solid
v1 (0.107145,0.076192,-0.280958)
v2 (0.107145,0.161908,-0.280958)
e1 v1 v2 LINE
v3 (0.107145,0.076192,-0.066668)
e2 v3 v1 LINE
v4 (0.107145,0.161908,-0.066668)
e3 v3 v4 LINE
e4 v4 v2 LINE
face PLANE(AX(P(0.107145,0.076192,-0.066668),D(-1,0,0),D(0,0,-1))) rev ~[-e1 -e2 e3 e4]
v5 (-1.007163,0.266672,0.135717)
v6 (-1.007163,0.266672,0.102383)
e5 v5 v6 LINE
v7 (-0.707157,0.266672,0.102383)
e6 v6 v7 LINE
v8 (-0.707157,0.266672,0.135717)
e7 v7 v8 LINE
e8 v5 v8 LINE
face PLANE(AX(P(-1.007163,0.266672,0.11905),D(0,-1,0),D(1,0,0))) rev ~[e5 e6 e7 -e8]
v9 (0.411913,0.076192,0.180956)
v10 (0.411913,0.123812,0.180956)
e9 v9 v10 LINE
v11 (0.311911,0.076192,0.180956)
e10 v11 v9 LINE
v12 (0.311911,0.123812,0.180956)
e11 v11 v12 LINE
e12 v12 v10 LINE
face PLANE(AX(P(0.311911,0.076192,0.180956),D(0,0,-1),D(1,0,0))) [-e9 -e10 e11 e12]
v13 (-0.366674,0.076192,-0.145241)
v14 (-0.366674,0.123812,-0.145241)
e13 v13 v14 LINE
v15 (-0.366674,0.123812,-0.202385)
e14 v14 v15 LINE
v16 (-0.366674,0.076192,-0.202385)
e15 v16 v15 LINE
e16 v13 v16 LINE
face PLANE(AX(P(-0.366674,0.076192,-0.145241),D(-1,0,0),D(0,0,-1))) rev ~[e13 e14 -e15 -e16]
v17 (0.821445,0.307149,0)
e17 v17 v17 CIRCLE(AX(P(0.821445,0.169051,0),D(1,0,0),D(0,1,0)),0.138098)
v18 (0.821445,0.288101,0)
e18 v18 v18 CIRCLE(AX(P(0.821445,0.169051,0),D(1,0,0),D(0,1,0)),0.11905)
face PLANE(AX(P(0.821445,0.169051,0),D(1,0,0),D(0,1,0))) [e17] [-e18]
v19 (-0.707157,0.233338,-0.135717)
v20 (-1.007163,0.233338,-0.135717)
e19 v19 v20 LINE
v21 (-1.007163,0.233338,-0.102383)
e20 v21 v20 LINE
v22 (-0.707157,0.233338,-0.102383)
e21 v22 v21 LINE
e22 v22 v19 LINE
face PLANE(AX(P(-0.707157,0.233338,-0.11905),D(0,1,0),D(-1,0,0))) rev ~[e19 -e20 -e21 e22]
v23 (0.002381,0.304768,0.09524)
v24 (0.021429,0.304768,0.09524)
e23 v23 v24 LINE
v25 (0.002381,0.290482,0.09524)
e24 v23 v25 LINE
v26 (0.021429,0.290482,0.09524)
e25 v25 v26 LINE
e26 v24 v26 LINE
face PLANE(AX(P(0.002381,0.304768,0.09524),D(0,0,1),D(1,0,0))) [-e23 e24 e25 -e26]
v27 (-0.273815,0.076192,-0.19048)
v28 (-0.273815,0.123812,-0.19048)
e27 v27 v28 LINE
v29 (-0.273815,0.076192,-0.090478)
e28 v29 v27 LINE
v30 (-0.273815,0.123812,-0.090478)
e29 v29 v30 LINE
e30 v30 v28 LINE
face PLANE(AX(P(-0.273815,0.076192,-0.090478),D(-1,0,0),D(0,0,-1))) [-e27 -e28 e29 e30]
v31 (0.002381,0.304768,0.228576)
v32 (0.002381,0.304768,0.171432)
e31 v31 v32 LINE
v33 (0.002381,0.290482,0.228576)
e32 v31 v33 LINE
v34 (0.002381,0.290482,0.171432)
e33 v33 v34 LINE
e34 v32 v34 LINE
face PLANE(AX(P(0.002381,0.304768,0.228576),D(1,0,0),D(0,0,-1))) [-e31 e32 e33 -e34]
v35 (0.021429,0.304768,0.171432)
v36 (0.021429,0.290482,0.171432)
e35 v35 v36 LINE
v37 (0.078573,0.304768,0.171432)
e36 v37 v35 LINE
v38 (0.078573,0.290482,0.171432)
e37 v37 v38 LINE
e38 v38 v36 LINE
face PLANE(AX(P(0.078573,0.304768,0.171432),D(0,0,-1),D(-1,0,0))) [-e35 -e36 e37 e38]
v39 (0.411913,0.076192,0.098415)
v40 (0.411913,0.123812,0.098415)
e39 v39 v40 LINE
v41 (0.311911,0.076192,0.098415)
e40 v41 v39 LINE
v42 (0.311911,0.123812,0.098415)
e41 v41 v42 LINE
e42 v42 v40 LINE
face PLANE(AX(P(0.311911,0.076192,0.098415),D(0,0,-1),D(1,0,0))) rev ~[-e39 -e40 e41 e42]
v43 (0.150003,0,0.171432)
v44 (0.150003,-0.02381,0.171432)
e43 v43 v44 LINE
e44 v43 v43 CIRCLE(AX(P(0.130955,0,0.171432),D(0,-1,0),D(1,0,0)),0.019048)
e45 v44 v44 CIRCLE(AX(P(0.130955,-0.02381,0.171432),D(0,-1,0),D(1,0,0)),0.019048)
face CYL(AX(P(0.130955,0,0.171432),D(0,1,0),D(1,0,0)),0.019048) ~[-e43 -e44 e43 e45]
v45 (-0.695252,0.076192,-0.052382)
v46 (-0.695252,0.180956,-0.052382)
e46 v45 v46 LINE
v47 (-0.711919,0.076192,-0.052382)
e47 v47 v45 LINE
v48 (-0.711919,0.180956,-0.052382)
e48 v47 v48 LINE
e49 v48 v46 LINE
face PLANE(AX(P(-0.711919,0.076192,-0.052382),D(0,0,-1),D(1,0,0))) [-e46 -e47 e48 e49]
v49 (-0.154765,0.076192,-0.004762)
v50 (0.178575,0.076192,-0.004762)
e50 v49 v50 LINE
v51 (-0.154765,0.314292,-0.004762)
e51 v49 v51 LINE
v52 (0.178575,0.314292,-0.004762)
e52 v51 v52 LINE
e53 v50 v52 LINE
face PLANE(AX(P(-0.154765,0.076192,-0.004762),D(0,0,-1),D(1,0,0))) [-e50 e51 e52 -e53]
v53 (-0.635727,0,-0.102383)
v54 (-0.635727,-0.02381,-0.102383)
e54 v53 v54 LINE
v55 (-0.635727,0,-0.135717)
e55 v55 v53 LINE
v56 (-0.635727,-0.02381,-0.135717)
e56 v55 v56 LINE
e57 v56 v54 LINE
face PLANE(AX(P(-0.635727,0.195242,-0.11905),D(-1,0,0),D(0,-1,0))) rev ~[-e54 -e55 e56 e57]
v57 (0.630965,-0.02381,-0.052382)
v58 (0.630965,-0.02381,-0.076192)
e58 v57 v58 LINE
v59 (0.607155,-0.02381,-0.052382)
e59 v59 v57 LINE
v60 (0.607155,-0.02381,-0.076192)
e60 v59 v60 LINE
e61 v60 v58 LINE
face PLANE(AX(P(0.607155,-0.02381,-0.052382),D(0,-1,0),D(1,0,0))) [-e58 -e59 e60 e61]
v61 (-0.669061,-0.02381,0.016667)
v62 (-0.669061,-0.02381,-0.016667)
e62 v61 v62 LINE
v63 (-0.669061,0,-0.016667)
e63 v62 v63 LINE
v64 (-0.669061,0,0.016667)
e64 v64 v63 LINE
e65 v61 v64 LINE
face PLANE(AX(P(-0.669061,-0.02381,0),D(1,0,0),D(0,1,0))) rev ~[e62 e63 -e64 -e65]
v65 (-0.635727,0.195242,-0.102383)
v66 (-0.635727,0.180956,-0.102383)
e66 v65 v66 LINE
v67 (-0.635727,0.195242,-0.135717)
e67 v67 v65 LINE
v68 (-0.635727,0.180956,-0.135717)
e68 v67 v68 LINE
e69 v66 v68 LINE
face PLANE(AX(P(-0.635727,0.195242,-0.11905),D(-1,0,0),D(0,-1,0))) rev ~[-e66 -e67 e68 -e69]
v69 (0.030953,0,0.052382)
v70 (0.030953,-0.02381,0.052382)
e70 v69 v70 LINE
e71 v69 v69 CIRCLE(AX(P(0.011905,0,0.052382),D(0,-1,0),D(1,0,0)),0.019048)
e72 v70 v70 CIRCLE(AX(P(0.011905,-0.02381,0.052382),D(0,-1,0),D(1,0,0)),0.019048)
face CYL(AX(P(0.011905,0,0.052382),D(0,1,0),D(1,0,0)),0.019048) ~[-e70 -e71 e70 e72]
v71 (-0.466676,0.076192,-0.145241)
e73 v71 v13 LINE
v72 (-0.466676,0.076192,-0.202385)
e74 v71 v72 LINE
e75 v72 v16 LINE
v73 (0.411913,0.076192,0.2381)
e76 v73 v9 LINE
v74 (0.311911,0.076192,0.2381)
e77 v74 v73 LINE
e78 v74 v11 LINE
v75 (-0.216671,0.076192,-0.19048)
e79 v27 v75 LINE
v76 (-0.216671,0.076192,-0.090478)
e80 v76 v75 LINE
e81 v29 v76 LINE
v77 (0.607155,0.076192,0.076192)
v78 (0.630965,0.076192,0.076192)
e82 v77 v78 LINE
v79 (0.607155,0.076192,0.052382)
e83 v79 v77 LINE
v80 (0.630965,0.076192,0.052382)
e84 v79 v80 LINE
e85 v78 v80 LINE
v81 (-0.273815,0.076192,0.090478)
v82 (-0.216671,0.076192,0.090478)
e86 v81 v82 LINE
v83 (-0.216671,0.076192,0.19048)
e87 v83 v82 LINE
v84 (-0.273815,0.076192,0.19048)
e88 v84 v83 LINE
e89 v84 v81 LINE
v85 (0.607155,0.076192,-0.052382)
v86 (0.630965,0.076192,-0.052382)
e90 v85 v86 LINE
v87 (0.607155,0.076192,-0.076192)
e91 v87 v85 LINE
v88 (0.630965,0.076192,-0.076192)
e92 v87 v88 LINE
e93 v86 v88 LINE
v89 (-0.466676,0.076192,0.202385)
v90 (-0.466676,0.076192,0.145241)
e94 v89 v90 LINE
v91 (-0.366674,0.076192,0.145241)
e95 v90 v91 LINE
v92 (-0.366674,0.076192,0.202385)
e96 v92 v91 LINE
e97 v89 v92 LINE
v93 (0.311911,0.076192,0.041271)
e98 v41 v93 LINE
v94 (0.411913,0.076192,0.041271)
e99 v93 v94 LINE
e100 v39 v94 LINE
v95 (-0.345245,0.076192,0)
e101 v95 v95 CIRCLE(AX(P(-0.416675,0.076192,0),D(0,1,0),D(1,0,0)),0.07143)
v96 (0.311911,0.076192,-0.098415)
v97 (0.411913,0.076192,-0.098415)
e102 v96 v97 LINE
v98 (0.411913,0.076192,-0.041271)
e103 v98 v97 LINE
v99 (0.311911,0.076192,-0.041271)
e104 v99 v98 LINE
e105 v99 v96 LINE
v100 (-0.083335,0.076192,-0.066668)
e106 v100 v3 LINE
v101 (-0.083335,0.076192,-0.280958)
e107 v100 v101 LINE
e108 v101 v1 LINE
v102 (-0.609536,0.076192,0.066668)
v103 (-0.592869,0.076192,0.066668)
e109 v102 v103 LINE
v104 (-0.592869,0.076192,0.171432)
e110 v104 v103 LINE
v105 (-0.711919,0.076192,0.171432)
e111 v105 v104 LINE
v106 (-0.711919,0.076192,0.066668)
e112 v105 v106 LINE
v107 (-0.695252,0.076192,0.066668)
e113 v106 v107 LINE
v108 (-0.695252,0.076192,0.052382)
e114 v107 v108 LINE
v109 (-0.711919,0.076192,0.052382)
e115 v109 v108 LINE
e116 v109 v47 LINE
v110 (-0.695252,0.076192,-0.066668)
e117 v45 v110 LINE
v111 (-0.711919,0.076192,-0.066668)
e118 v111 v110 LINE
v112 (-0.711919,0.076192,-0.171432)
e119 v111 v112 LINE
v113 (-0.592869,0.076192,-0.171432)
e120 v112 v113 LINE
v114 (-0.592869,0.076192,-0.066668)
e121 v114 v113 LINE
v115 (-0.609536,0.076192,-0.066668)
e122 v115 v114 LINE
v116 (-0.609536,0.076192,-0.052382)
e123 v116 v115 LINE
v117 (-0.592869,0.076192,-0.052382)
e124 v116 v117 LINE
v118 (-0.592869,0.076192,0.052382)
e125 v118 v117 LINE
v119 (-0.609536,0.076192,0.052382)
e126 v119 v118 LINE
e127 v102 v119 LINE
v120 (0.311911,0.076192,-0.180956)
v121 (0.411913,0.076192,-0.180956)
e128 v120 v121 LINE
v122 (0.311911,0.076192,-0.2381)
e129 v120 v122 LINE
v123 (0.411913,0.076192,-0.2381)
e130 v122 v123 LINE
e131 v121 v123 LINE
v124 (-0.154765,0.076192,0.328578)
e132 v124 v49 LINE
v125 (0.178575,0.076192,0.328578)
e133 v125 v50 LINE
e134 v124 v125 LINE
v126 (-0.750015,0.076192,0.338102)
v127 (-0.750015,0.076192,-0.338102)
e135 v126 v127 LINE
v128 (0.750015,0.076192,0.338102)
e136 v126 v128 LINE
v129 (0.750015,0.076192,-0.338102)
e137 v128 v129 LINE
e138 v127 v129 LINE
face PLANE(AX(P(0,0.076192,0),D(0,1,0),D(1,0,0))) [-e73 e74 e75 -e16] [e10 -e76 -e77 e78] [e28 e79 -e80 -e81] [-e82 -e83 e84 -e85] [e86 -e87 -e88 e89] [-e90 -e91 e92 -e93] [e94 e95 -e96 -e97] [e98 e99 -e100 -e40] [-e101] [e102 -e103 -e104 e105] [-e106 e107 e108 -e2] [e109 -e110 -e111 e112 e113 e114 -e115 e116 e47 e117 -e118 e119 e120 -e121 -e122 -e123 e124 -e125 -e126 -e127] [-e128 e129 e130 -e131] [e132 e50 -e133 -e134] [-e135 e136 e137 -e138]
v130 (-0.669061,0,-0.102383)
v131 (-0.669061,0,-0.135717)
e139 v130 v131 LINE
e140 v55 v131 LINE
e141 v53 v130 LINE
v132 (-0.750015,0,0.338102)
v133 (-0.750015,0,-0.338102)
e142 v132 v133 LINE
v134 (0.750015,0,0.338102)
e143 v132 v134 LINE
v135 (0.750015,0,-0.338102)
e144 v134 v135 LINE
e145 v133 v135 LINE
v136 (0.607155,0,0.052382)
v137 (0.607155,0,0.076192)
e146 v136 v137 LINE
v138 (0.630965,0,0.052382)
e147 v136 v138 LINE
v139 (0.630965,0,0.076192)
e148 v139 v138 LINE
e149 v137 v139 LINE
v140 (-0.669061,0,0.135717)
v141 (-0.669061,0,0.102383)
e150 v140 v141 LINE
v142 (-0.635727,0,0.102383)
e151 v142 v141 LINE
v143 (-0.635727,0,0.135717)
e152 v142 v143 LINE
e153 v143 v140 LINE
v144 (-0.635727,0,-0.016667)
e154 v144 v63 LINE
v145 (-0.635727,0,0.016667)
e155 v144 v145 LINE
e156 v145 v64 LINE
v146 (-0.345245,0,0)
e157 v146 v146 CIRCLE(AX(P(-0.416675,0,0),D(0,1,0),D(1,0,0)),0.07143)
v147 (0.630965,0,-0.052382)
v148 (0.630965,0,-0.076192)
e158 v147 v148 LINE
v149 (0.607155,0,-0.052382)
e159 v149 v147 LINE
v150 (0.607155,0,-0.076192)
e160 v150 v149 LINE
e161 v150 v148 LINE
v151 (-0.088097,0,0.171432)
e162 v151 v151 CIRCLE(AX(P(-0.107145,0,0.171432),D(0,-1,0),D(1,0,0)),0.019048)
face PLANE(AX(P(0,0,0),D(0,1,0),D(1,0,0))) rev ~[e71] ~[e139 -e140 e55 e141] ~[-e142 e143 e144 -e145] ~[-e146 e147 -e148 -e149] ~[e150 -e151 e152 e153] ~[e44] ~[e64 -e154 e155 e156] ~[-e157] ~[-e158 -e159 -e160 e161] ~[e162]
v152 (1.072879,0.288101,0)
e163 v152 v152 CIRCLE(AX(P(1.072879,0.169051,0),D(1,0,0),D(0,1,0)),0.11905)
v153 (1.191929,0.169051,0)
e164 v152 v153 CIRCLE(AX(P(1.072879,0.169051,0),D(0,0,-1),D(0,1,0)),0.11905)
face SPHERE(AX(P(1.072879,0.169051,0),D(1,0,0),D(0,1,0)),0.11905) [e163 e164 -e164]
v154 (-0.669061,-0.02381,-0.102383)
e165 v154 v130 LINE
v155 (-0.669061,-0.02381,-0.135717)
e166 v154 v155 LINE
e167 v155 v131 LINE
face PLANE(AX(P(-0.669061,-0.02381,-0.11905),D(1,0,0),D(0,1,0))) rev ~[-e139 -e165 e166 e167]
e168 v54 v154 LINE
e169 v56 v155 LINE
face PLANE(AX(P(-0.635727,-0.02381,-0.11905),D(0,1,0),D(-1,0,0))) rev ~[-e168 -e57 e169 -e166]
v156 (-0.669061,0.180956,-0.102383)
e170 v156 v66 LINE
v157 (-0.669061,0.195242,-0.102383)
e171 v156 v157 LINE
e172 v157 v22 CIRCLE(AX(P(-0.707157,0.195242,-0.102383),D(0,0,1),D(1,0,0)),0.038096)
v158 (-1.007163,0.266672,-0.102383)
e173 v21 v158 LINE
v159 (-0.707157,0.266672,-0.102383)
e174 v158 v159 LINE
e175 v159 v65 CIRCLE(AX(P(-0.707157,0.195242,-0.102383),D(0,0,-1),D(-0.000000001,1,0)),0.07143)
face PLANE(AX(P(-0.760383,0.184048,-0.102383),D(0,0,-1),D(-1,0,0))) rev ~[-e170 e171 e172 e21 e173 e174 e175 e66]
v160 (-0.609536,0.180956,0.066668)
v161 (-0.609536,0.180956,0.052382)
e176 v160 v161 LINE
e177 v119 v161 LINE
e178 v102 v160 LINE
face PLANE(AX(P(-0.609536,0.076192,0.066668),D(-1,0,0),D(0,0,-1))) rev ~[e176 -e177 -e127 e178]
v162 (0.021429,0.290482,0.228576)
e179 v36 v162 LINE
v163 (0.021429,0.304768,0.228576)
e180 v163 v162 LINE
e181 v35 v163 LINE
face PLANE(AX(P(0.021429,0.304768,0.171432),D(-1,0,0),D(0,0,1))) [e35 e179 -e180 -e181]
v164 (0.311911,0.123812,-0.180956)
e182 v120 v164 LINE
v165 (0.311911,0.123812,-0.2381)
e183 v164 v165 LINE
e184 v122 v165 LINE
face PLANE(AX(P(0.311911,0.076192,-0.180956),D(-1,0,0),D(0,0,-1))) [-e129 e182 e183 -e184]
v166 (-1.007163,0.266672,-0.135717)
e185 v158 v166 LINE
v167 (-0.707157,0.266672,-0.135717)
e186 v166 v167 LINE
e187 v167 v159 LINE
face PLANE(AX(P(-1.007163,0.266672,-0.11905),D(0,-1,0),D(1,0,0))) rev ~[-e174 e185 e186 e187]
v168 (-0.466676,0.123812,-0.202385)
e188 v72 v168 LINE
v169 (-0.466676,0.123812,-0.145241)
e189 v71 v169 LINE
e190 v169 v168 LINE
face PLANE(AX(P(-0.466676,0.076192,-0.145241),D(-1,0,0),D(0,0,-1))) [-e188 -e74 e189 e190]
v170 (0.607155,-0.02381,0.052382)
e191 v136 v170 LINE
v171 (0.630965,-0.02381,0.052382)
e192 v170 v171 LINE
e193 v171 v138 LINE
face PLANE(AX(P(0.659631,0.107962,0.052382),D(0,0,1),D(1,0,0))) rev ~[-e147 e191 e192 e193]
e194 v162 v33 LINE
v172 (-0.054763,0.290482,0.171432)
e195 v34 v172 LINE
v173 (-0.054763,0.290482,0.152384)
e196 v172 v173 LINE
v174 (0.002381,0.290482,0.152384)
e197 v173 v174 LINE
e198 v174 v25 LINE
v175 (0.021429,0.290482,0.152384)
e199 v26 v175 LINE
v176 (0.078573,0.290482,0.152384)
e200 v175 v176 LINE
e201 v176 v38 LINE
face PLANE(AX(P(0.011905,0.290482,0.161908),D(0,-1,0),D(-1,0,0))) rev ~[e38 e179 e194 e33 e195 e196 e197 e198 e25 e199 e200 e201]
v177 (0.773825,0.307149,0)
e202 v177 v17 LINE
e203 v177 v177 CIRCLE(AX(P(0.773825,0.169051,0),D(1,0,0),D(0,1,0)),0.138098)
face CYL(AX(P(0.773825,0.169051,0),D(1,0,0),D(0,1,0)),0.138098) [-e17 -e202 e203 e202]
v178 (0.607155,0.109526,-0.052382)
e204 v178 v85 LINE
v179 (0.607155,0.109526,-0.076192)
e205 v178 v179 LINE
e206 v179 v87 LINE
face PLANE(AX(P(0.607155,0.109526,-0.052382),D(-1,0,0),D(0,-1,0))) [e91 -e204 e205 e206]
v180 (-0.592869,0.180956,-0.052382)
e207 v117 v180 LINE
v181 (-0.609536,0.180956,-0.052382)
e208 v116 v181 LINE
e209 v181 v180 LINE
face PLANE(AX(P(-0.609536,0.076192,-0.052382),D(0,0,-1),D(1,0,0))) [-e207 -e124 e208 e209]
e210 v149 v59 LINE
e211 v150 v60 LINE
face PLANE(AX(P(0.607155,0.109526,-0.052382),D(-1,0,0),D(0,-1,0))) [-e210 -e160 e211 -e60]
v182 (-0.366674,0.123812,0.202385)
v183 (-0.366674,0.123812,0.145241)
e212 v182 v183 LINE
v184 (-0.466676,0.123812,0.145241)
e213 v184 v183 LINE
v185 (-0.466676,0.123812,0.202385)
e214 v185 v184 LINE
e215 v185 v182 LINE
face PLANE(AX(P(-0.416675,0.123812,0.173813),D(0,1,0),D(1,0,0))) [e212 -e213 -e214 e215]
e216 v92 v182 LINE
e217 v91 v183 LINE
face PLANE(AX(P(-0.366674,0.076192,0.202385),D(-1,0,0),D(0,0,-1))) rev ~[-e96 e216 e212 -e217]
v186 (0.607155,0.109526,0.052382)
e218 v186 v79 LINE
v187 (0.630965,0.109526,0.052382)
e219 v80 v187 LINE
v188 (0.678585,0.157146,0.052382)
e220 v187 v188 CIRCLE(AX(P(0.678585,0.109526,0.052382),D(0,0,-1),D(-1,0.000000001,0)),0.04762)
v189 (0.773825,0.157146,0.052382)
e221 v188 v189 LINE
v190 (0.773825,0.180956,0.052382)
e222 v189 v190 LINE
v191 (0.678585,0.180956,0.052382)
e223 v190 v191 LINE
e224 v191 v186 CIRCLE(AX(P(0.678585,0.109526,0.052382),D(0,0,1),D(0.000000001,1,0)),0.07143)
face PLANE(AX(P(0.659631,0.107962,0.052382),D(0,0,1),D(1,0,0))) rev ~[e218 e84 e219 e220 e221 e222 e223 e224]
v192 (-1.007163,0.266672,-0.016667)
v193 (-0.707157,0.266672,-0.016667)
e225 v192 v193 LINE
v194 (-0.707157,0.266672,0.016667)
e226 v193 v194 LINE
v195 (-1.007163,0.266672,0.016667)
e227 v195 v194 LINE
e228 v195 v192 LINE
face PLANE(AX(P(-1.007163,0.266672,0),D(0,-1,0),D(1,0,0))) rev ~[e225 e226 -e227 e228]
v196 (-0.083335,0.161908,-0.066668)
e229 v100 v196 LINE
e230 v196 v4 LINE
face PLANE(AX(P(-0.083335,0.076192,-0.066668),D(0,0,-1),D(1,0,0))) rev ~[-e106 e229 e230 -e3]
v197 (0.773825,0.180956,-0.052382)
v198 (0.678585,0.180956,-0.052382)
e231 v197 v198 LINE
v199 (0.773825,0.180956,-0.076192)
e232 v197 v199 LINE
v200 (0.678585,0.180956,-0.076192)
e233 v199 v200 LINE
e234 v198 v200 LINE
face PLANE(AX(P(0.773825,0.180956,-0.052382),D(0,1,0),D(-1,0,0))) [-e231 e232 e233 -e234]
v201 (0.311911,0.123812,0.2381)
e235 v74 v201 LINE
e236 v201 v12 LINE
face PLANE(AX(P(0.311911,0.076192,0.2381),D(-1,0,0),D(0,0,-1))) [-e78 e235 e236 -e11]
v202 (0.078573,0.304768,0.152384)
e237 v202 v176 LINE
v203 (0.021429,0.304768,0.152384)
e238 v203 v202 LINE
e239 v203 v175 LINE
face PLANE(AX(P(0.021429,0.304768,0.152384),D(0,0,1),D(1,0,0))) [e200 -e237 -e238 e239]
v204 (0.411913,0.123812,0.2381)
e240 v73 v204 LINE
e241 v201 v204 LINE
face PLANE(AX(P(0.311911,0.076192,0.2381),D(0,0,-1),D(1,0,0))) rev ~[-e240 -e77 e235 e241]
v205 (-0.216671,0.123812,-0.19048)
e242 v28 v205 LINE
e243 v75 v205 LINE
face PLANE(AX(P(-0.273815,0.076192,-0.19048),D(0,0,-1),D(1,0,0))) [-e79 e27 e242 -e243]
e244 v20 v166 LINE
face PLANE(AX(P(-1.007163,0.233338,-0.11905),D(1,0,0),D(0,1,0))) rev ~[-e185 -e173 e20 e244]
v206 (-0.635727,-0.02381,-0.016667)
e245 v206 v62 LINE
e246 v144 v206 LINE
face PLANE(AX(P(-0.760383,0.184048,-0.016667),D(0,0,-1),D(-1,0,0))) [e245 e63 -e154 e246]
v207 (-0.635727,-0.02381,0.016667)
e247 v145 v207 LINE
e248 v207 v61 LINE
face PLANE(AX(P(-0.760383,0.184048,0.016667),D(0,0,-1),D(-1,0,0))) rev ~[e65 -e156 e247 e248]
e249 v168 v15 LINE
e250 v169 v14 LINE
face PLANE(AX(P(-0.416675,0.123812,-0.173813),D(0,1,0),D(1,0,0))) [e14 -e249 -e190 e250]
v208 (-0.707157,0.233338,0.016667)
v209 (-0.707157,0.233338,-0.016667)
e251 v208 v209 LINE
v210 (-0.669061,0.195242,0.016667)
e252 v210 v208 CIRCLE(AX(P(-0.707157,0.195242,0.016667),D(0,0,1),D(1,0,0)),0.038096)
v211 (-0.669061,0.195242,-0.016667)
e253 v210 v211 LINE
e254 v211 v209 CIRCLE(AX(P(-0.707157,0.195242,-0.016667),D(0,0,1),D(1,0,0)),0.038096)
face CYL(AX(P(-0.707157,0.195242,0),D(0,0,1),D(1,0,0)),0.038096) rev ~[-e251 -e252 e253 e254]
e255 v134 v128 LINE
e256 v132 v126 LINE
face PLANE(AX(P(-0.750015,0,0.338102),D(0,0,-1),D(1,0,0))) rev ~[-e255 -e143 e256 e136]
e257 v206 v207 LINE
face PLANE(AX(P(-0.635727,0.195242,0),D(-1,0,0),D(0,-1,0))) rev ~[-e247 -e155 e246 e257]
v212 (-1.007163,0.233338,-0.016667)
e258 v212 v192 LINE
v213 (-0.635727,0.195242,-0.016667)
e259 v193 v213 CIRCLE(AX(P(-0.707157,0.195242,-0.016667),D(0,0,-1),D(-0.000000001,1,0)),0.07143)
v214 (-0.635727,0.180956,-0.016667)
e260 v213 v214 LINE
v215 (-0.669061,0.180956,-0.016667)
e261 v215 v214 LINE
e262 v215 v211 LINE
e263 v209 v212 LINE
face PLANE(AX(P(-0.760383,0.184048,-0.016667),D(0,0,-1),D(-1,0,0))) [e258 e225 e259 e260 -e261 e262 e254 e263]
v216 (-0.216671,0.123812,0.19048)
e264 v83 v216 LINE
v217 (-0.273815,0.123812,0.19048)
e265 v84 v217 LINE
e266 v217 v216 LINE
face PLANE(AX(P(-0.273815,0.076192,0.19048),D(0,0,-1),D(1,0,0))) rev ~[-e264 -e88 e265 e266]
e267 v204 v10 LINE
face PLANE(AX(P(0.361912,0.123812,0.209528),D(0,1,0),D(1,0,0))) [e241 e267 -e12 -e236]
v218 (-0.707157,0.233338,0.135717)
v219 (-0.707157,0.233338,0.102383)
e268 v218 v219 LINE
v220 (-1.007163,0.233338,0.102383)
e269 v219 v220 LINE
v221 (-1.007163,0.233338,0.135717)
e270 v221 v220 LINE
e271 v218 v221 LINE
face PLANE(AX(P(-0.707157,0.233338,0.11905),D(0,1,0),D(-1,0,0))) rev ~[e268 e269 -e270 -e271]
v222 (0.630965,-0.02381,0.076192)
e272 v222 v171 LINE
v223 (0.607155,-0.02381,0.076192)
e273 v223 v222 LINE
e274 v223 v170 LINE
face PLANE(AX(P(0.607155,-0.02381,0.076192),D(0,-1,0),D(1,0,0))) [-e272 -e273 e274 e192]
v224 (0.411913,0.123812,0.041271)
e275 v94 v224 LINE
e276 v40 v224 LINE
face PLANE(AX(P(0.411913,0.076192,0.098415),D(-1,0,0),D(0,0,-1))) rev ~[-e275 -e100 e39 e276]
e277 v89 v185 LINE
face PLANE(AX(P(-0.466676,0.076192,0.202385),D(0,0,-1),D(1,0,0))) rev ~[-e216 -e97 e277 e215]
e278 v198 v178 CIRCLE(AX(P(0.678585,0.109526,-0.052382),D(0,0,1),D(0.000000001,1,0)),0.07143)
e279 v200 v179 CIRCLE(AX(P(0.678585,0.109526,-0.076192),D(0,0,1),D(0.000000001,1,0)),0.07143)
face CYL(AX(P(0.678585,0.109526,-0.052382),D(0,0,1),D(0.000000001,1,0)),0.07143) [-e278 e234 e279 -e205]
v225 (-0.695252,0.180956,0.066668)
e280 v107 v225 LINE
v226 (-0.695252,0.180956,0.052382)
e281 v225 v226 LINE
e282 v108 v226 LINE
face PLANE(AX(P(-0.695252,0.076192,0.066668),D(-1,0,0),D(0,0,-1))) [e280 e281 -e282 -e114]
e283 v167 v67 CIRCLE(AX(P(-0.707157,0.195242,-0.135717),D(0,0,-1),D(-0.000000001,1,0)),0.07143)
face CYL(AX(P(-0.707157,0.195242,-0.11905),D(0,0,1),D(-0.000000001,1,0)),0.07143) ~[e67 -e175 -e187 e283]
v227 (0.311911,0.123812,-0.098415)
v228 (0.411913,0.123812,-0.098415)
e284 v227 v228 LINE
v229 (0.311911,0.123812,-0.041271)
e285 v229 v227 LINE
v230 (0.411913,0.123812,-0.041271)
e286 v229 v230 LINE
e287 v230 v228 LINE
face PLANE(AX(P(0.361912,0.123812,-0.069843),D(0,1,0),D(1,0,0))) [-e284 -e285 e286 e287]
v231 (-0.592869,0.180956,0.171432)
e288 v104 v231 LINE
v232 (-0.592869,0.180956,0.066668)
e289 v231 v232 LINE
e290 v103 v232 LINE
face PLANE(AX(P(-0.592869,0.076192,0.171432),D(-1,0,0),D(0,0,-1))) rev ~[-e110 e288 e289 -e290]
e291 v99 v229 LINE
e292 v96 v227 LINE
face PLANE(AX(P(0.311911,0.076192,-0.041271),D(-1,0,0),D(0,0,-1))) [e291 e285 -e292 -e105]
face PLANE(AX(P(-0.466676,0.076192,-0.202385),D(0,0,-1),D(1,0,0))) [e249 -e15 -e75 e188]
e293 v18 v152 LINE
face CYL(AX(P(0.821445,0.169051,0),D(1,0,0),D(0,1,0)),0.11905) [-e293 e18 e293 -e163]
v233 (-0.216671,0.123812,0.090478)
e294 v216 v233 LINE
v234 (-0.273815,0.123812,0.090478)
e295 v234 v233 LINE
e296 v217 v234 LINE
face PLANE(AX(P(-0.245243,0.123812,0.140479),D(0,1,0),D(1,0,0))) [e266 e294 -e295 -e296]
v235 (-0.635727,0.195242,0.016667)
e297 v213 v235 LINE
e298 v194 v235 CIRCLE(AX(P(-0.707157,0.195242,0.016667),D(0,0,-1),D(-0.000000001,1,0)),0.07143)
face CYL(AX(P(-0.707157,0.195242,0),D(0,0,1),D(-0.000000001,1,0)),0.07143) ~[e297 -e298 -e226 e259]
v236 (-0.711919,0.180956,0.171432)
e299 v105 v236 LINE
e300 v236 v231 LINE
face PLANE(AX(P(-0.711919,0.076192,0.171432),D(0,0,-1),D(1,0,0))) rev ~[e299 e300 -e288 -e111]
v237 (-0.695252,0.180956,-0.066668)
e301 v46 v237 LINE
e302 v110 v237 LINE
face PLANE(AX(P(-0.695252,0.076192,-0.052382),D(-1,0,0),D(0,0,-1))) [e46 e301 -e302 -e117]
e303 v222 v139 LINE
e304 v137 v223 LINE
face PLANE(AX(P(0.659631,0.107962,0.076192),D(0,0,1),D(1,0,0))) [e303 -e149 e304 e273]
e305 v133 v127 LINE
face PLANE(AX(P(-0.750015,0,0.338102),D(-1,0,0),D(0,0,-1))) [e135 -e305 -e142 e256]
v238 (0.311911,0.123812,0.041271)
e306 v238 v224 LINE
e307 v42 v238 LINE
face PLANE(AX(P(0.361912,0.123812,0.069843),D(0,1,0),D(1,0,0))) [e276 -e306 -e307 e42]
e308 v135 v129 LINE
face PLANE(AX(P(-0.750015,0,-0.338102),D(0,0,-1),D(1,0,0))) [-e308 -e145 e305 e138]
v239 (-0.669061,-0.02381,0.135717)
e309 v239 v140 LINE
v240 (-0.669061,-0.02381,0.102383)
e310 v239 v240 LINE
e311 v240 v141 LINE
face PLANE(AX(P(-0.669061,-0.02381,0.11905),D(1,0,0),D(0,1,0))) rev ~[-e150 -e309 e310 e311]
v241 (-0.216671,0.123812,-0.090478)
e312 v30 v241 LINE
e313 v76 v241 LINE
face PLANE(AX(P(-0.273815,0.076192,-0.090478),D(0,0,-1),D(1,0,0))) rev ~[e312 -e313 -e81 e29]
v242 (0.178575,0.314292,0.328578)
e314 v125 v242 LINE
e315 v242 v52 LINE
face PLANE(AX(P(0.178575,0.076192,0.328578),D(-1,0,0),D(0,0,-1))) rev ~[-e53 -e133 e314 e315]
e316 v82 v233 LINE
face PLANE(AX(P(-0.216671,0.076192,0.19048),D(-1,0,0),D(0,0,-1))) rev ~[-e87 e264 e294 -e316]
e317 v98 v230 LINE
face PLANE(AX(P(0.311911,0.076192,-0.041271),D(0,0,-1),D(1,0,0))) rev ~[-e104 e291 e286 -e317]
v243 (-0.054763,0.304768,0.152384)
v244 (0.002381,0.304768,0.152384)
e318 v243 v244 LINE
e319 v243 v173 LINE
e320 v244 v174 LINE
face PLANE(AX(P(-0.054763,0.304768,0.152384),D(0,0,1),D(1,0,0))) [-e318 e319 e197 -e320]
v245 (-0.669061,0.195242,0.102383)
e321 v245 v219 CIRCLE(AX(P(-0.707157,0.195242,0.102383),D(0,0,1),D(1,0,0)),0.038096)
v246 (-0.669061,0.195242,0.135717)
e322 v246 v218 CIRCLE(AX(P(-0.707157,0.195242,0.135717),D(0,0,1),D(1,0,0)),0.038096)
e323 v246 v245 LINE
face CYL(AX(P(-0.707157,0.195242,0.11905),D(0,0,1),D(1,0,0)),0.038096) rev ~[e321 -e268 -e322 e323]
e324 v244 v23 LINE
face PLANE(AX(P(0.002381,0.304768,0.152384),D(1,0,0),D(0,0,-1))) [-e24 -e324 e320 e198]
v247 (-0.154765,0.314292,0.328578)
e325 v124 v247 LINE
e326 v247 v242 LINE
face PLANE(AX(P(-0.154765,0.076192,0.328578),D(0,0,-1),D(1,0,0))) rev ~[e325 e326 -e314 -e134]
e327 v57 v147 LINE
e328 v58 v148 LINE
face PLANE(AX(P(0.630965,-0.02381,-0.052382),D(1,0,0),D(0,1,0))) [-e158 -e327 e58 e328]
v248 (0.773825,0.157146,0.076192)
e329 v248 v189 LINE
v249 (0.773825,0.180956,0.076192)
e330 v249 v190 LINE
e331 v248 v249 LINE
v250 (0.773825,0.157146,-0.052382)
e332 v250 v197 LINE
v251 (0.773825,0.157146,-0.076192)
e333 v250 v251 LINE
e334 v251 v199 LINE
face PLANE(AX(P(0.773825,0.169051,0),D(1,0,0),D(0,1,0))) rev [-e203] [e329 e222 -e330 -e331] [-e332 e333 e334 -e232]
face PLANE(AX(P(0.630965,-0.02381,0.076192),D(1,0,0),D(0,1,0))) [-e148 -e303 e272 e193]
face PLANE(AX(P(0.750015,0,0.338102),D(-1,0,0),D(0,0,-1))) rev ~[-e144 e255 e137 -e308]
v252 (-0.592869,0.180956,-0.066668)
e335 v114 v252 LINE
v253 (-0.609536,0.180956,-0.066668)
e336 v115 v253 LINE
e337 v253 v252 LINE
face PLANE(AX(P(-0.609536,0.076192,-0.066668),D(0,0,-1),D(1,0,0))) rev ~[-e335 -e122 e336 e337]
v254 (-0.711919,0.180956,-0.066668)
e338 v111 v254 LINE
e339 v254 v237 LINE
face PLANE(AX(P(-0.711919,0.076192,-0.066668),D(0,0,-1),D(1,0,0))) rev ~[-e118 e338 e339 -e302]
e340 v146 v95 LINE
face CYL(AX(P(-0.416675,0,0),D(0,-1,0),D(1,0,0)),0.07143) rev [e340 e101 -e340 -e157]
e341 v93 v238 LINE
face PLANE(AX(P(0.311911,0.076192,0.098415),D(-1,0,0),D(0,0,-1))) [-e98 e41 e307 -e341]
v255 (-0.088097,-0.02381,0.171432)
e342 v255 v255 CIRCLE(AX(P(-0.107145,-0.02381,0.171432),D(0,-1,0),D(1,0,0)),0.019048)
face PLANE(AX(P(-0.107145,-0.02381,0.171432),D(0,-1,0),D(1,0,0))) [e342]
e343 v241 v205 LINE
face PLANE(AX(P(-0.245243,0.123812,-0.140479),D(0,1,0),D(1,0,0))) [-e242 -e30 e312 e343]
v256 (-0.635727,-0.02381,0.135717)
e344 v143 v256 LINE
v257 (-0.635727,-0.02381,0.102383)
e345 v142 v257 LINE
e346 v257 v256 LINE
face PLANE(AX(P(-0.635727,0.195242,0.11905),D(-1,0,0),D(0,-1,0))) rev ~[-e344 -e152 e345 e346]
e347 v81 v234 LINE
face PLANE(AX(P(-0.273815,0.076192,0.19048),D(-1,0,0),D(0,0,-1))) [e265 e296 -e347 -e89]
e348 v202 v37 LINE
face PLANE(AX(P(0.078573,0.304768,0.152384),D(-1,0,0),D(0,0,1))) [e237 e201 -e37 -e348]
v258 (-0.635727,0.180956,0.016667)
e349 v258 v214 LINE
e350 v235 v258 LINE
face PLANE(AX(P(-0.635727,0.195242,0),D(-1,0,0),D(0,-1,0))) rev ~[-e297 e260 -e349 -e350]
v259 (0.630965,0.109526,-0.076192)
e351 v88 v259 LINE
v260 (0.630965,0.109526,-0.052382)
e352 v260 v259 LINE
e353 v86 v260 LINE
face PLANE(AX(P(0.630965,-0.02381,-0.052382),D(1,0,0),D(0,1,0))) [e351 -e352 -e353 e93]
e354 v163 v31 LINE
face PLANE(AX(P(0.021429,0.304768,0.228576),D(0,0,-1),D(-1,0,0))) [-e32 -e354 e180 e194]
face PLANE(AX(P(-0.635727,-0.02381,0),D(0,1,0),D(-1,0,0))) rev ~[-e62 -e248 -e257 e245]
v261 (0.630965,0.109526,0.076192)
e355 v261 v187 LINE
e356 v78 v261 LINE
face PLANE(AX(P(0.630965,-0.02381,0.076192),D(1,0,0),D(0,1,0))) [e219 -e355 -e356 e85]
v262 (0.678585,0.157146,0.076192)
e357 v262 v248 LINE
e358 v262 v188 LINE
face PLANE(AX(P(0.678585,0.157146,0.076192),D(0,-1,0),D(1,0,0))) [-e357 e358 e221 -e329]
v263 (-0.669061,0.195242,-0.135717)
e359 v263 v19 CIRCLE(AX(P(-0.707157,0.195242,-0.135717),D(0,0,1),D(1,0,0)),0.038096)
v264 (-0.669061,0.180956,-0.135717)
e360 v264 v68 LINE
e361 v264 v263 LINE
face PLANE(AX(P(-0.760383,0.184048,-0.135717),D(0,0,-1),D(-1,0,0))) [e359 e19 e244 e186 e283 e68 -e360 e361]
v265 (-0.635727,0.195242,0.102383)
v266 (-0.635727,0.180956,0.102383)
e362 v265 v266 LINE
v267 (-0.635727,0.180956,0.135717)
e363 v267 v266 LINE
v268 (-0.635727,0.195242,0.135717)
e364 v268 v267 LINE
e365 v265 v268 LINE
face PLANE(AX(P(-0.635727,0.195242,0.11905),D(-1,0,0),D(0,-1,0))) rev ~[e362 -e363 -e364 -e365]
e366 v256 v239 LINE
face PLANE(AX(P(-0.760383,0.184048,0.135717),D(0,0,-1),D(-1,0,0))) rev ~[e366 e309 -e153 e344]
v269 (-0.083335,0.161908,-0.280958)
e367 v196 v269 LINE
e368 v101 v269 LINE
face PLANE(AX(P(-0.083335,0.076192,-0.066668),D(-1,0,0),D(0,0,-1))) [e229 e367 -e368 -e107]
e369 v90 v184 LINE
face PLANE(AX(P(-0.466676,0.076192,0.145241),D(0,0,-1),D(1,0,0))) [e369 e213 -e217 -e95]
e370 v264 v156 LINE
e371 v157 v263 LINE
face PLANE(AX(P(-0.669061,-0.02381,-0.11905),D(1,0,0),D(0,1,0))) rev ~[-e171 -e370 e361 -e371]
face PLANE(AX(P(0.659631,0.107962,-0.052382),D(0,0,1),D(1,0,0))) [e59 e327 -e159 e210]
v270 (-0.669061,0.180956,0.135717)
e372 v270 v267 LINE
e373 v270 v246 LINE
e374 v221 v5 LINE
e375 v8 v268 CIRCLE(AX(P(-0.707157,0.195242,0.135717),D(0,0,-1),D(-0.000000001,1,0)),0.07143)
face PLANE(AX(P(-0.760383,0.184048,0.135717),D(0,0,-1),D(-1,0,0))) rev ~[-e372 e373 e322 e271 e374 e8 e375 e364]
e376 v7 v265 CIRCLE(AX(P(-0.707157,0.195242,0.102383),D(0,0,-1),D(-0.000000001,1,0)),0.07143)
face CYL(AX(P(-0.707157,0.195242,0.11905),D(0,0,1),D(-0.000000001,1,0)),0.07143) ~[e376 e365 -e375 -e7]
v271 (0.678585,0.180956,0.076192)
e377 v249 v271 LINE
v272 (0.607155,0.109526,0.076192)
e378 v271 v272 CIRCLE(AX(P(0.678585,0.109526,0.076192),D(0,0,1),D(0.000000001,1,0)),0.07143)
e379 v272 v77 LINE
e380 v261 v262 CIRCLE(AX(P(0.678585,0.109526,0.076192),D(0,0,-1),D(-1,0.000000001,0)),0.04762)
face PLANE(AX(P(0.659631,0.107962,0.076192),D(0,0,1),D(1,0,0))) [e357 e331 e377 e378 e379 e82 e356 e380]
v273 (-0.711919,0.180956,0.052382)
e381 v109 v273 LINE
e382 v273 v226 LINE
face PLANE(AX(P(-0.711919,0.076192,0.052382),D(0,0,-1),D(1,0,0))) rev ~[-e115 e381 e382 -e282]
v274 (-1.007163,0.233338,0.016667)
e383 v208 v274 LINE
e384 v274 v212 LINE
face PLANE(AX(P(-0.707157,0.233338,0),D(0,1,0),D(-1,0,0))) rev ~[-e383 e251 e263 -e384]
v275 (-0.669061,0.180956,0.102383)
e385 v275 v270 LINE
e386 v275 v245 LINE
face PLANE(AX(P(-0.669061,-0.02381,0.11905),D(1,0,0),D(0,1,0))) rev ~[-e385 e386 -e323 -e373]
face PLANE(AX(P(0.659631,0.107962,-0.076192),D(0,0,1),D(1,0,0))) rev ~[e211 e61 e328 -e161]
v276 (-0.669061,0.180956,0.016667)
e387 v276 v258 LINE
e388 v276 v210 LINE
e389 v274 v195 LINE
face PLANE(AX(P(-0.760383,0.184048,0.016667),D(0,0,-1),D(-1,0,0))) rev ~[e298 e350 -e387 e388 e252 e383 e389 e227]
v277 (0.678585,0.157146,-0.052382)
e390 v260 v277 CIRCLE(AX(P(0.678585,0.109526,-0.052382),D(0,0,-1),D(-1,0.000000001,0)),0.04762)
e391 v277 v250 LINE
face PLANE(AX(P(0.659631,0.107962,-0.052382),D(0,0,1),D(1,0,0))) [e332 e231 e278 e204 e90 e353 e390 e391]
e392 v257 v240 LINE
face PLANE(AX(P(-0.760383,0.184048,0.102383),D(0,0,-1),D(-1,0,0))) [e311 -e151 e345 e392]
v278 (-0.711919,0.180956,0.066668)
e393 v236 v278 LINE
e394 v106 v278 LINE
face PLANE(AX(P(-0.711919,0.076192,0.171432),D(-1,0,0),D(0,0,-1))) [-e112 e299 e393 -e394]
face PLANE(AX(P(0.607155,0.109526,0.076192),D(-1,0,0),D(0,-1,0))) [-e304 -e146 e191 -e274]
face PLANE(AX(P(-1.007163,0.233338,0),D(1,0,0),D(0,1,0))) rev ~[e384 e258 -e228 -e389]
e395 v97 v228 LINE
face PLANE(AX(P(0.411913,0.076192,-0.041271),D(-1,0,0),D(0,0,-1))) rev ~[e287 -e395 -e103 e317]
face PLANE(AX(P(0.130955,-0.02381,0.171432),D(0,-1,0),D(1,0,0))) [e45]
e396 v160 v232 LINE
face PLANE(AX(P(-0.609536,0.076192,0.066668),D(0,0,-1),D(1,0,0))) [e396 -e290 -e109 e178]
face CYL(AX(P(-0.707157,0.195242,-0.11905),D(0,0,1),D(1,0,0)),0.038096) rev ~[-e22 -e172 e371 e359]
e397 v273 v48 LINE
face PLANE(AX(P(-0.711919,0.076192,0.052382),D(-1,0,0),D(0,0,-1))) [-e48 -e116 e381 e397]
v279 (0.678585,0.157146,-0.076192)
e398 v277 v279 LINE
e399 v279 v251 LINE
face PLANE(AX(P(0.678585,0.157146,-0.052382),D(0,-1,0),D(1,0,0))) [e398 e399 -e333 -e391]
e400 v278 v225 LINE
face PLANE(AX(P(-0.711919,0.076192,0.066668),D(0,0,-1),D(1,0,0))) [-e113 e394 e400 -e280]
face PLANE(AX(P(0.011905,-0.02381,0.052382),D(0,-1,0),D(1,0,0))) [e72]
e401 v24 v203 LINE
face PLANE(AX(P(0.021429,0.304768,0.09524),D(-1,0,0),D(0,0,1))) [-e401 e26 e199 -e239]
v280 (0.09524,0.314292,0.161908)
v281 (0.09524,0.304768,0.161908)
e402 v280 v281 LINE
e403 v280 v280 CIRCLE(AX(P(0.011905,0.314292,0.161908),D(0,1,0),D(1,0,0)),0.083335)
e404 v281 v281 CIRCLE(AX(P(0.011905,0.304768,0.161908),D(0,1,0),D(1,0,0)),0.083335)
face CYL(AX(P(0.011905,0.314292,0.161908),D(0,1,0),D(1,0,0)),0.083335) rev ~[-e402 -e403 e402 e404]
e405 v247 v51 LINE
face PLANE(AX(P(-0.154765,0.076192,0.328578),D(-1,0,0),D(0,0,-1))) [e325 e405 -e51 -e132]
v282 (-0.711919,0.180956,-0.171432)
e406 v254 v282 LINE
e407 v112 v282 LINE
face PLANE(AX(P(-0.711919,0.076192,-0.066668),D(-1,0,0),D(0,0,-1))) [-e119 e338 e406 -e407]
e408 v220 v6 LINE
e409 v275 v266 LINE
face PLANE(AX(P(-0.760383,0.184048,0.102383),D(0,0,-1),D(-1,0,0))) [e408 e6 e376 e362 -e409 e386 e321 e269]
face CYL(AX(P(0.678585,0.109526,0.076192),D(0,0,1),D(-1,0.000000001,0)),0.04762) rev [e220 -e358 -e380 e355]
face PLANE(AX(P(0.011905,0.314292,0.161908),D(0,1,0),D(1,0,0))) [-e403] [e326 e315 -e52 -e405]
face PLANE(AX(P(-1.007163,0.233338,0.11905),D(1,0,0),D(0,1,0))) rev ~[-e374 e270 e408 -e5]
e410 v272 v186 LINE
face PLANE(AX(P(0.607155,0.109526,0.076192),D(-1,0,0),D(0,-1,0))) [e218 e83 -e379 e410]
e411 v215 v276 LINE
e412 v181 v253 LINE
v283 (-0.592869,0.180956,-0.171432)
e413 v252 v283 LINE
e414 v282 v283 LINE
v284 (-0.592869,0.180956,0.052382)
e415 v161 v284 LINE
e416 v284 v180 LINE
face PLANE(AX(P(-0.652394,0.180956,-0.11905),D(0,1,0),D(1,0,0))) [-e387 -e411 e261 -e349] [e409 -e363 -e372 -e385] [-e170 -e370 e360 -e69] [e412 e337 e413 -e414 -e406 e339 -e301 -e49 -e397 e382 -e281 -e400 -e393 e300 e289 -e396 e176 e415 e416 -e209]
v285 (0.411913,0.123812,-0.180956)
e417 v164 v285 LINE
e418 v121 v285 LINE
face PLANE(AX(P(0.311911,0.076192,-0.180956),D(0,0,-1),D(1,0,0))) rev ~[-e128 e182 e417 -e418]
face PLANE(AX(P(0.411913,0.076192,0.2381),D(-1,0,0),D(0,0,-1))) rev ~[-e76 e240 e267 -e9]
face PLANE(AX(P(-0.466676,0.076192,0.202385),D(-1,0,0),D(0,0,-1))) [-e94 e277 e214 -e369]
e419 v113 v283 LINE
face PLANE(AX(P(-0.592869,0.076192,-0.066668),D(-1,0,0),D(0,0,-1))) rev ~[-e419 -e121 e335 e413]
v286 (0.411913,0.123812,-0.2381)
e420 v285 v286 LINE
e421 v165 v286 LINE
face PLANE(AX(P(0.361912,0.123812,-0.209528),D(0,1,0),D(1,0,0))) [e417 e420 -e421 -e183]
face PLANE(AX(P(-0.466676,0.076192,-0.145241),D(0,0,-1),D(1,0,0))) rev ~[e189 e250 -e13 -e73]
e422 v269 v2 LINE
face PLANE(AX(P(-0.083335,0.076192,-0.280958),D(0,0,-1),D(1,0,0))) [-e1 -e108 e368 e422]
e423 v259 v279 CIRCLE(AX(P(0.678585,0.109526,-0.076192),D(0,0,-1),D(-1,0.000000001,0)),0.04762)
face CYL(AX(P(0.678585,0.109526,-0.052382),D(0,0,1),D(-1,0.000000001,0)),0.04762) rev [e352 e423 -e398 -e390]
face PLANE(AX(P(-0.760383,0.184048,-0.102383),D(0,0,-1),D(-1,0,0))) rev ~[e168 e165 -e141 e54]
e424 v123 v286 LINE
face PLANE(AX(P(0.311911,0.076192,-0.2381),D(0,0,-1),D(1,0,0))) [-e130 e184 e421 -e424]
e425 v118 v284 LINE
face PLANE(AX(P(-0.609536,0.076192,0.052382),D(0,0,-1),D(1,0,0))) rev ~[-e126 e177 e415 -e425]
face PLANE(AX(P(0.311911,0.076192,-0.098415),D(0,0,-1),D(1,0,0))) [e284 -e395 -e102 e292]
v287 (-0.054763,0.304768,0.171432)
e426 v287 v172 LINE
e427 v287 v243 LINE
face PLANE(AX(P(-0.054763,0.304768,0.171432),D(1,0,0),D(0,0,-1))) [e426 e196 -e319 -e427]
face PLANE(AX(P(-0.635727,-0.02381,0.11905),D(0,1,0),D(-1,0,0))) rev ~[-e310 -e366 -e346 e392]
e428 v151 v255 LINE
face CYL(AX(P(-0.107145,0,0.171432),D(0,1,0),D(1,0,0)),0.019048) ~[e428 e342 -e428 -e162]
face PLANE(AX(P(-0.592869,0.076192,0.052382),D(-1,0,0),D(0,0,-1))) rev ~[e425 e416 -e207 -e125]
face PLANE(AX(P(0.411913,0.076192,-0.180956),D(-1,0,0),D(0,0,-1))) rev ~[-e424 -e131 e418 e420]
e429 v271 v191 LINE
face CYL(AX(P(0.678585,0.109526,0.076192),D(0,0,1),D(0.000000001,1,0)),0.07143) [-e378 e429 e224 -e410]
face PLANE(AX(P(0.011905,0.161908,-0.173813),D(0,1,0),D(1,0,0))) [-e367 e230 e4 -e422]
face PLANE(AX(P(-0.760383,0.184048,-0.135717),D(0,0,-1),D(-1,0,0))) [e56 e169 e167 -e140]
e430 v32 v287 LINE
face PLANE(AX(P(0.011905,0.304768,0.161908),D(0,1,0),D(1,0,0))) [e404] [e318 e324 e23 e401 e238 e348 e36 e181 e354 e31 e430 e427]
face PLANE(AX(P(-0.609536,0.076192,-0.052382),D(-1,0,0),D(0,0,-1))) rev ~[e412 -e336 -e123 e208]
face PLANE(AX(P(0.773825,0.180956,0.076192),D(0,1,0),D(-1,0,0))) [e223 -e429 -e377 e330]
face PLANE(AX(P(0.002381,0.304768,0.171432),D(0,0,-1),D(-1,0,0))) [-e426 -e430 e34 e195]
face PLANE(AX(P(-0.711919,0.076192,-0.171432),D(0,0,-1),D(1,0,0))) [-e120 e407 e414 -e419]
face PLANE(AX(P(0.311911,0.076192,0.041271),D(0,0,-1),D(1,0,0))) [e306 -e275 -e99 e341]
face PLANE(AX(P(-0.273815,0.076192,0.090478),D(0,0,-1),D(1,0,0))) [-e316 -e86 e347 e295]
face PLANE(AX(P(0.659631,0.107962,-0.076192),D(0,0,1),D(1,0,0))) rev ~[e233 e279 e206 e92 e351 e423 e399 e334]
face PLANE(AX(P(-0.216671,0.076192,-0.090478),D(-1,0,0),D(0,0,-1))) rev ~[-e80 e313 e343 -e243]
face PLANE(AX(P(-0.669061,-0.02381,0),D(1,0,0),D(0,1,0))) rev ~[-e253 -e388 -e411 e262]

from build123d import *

# Parameters (mm, degrees)
SKETCH_1_W             = 31.5
SKETCH_1_H             = 14.2
SKETCH_1_R             = 1.5
EXTRUDE_1_DEPTH        = 1.6
SKETCH_2_W             = 7
SKETCH_2_H             = 7
EXTRUDE_2_DEPTH        = 5
SKETCH_3_R             = 1.75
CUT_EXTRUDE_1_DEPTH    = 0.2
CUT_EXTRUDE_2_DEPTH    = 0.3
SKETCH_6_W             = 4
SKETCH_6_H             = 4.5
EXTRUDE_3_DEPTH        = 1.8
SKETCH_7_W             = 2.1
SKETCH_7_H             = 1.2
SKETCH_7_W_2           = 1.2
SKETCH_7_H_2           = 2.1
EXTRUDE_4_DEPTH        = 1
EXTRUDE_START          = 1.6
EXTRUDE_5_DEPTH        = 0.5
PATTERN_LINEAR_1_COUNT = 2
PATTERN_LINEAR_1_PITCH = 2.7
EXTRUDE_6_DEPTH        = 0.35
PATTERN_LINEAR_2_COUNT = 2
PATTERN_LINEAR_2_PITCH = 2.5
PATTERN_LINEAR_3_COUNT = 2
PATTERN_LINEAR_3_PITCH = 2.5
SKETCH_12_W            = 2.5
SKETCH_12_H            = 2.2
SKETCH_12_W_2          = 1.8
SKETCH_12_H_2          = 0.3
EXTRUDE_7_DEPTH        = 2.2
SKETCH_13_R            = 0.4
EXTRUDE_8_DEPTH        = 0.5
SCALE1_SCALE           = 0.04762


with BuildPart() as part:
    # Эскиз1 → Бобышка-Вытянуть1 (new body)
    with BuildSketch(Plane(origin=(0, 0, 0), x_dir=(1, 0, 0), z_dir=(0, 1, 0))):
        Rectangle(SKETCH_1_W, SKETCH_1_H)
        with Locations((-8.75, 0)):
            Circle(SKETCH_1_R, mode=Mode.SUBTRACT)
    extrude(amount=EXTRUDE_1_DEPTH)

    # Эскиз2 → Бобышка-Вытянуть2 (add)
    with BuildSketch(Plane(origin=(0, 1.6, 0), x_dir=(1, 0, 0), z_dir=(0, 1, 0))):
        with Locations((0.25, -3.4)):
            Rectangle(SKETCH_2_W, SKETCH_2_H)
    extrude(amount=EXTRUDE_2_DEPTH)

    # Эскиз3 → Вырез-Вытянуть1 (cut)
    with BuildSketch(Plane(origin=(0, 6.6, 0), x_dir=(1, 0, 0), z_dir=(0, 1, 0))):
        with Locations((0.25, -3.4)):
            Circle(SKETCH_3_R)
    extrude(amount=-CUT_EXTRUDE_1_DEPTH, mode=Mode.SUBTRACT)

    # Эскиз4 → Вырез-Вытянуть2 (cut)
    with BuildSketch(Plane(origin=(0, 6.4, 0), x_dir=(1, 0, 0), z_dir=(0, 1, 0))):
        Polygon((0.05, -2), (0.45, -2), (0.45, -3.2), (1.65, -3.2), (1.65, -3.6), (0.45, -3.6), (0.45, -4.8), (0.05, -4.8), (0.05, -3.6), (-1.15, -3.6), (-1.15, -3.2), (0.05, -3.2), align=None)
    extrude(amount=-CUT_EXTRUDE_2_DEPTH, mode=Mode.SUBTRACT)

    # Эскиз6 → Бобышка-Вытянуть3 (add)
    with BuildSketch(Plane(origin=(0, 1.6, 0), x_dir=(1, 0, 0), z_dir=(0, 1, 0))):
        with Locations((0.25, 3.65)):
            Rectangle(SKETCH_6_W, SKETCH_6_H)
    extrude(amount=EXTRUDE_3_DEPTH)

    # Эскиз7 → Бобышка-Вытянуть4 (add)
    with BuildSketch(Plane(origin=(0, 1.6, 0), x_dir=(1, 0, 0), z_dir=(0, 1, 0))):
        with Locations((7.6, 1.466666667)):
            Rectangle(SKETCH_7_W, SKETCH_7_H)
        with Locations((7.6, 4.4)):
            Rectangle(SKETCH_7_W, SKETCH_7_H)
        with Locations((-8.75, 3.65)):
            Rectangle(SKETCH_7_W, SKETCH_7_H)
        with Locations((-5.15, 2.95)):
            Rectangle(SKETCH_7_W_2, SKETCH_7_H_2)
        with Locations((-5.15, -2.95)):
            Rectangle(SKETCH_7_W_2, SKETCH_7_H_2)
        with Locations((-8.75, -3.65)):
            Rectangle(SKETCH_7_W, SKETCH_7_H)
        with Locations((7.6, -4.4)):
            Rectangle(SKETCH_7_W, SKETCH_7_H)
        with Locations((7.6, -1.466666667)):
            Rectangle(SKETCH_7_W, SKETCH_7_H)
    extrude(amount=EXTRUDE_4_DEPTH)

    # Эскиз9 → Бобышка-Вытянуть5 (add)
    with BuildSketch(Plane.XY.offset(EXTRUDE_START)):
        with BuildLine():
            Line((12.75, 2.3), (12.75, -0.5))
            Line((12.75, -0.5), (13.25, -0.5))
            Line((13.25, -0.5), (13.25, 2.3))
            ThreePointArc((13.25, 2.3), (13.542893219, 3.007106781), (14.25, 3.3))
            Line((14.25, 3.3), (16.25, 3.3))
            Line((16.25, 3.3), (16.25, 3.8))
            Line((16.25, 3.8), (14.25, 3.8))
            ThreePointArc((14.25, 3.8), (13.189339828, 3.360660172), (12.75, 2.3))
        make_face()
    extrude_5 = extrude(amount=-EXTRUDE_5_DEPTH)

    # Линейный массив1: Бобышка-Вытянуть5 ×2
    with Locations(*[(0, 0, -i * PATTERN_LINEAR_1_PITCH) for i in range(1, PATTERN_LINEAR_1_COUNT)]):
        add(extrude_5)

    # Эскиз10 → Повернуть1 (revolve)
    with BuildSketch(Plane.XY):
        with BuildLine():
            Line((16.25, 3.55), (16.25, 6.45))
            Line((16.25, 6.45), (17.25, 6.45))
            Line((17.25, 6.45), (17.25, 6.05))
            Line((17.25, 6.05), (22.53, 6.05))
            ThreePointArc((22.53, 6.05), (24.297766953, 5.317766953), (25.03, 3.55))
            Line((25.03, 3.55), (16.25, 3.55))
        make_face()
    revolve(axis=Axis((16.25, 3.55, 0), (1, 0, 0)))

    # Эскиз11 → Бобышка-Вытянуть6 (add, symmetric)
    with BuildSketch(Plane.XY):
        with BuildLine():
            Line((-13.35, -0.5), (-14.05, -0.5))
            Line((-14.05, -0.5), (-14.05, 4.1))
            ThreePointArc((-14.05, 4.1), (-14.284314575, 4.665685425), (-14.85, 4.9))
            Line((-14.85, 4.9), (-21.15, 4.9))
            Line((-21.15, 4.9), (-21.15, 5.6))
            Line((-21.15, 5.6), (-14.85, 5.6))
            ThreePointArc((-14.85, 5.6), (-13.789339828, 5.160660172), (-13.35, 4.1))
            Line((-13.35, 4.1), (-13.35, -0.5))
        make_face()
    extrude_6 = extrude(amount=EXTRUDE_6_DEPTH, both=True)

    # Линейный массив2: Бобышка-Вытянуть6 ×2
    with Locations(*[(0, 0, i * PATTERN_LINEAR_2_PITCH) for i in range(1, PATTERN_LINEAR_2_COUNT)]):
        add(extrude_6)

    # Линейный массив3: Бобышка-Вытянуть6 ×2
    with Locations(*[(0, 0, -i * PATTERN_LINEAR_3_PITCH) for i in range(1, PATTERN_LINEAR_3_COUNT)]):
        add(extrude_6)

    # Эскиз12 → Бобышка-Вытянуть7 (add)
    with BuildSketch(Plane(origin=(0, 1.6, 0), x_dir=(1, 0, 0), z_dir=(0, 1, 0))):
        with Locations((-13.7, 2.5)):
            Rectangle(SKETCH_12_W, SKETCH_12_H)
        with Locations((-13.7, 1.25)):
            Rectangle(SKETCH_12_W_2, SKETCH_12_H_2)
        with Locations((-13.7, 0)):
            Rectangle(SKETCH_12_W, SKETCH_12_H)
        with Locations((-13.7, -1.25)):
            Rectangle(SKETCH_12_W_2, SKETCH_12_H_2)
        with Locations((-13.7, -2.5)):
            Rectangle(SKETCH_12_W, SKETCH_12_H)
    extrude(amount=EXTRUDE_7_DEPTH)

    # Эскиз13 → Бобышка-Вытянуть8 (add)
    with BuildSketch(Plane.XZ):
        with Locations((-2.25, 3.6)):
            Circle(SKETCH_13_R)
        with Locations((0.25, 1.1)):
            Circle(SKETCH_13_R)
        with Locations((2.75, 3.6)):
            Circle(SKETCH_13_R)
    extrude(amount=EXTRUDE_8_DEPTH)


with BuildPart() as part_1:
    # Scale1: scaled about (0, 0, 0)
    add(part.part.scale(SCALE1_SCALE))


solid = part_1.part
